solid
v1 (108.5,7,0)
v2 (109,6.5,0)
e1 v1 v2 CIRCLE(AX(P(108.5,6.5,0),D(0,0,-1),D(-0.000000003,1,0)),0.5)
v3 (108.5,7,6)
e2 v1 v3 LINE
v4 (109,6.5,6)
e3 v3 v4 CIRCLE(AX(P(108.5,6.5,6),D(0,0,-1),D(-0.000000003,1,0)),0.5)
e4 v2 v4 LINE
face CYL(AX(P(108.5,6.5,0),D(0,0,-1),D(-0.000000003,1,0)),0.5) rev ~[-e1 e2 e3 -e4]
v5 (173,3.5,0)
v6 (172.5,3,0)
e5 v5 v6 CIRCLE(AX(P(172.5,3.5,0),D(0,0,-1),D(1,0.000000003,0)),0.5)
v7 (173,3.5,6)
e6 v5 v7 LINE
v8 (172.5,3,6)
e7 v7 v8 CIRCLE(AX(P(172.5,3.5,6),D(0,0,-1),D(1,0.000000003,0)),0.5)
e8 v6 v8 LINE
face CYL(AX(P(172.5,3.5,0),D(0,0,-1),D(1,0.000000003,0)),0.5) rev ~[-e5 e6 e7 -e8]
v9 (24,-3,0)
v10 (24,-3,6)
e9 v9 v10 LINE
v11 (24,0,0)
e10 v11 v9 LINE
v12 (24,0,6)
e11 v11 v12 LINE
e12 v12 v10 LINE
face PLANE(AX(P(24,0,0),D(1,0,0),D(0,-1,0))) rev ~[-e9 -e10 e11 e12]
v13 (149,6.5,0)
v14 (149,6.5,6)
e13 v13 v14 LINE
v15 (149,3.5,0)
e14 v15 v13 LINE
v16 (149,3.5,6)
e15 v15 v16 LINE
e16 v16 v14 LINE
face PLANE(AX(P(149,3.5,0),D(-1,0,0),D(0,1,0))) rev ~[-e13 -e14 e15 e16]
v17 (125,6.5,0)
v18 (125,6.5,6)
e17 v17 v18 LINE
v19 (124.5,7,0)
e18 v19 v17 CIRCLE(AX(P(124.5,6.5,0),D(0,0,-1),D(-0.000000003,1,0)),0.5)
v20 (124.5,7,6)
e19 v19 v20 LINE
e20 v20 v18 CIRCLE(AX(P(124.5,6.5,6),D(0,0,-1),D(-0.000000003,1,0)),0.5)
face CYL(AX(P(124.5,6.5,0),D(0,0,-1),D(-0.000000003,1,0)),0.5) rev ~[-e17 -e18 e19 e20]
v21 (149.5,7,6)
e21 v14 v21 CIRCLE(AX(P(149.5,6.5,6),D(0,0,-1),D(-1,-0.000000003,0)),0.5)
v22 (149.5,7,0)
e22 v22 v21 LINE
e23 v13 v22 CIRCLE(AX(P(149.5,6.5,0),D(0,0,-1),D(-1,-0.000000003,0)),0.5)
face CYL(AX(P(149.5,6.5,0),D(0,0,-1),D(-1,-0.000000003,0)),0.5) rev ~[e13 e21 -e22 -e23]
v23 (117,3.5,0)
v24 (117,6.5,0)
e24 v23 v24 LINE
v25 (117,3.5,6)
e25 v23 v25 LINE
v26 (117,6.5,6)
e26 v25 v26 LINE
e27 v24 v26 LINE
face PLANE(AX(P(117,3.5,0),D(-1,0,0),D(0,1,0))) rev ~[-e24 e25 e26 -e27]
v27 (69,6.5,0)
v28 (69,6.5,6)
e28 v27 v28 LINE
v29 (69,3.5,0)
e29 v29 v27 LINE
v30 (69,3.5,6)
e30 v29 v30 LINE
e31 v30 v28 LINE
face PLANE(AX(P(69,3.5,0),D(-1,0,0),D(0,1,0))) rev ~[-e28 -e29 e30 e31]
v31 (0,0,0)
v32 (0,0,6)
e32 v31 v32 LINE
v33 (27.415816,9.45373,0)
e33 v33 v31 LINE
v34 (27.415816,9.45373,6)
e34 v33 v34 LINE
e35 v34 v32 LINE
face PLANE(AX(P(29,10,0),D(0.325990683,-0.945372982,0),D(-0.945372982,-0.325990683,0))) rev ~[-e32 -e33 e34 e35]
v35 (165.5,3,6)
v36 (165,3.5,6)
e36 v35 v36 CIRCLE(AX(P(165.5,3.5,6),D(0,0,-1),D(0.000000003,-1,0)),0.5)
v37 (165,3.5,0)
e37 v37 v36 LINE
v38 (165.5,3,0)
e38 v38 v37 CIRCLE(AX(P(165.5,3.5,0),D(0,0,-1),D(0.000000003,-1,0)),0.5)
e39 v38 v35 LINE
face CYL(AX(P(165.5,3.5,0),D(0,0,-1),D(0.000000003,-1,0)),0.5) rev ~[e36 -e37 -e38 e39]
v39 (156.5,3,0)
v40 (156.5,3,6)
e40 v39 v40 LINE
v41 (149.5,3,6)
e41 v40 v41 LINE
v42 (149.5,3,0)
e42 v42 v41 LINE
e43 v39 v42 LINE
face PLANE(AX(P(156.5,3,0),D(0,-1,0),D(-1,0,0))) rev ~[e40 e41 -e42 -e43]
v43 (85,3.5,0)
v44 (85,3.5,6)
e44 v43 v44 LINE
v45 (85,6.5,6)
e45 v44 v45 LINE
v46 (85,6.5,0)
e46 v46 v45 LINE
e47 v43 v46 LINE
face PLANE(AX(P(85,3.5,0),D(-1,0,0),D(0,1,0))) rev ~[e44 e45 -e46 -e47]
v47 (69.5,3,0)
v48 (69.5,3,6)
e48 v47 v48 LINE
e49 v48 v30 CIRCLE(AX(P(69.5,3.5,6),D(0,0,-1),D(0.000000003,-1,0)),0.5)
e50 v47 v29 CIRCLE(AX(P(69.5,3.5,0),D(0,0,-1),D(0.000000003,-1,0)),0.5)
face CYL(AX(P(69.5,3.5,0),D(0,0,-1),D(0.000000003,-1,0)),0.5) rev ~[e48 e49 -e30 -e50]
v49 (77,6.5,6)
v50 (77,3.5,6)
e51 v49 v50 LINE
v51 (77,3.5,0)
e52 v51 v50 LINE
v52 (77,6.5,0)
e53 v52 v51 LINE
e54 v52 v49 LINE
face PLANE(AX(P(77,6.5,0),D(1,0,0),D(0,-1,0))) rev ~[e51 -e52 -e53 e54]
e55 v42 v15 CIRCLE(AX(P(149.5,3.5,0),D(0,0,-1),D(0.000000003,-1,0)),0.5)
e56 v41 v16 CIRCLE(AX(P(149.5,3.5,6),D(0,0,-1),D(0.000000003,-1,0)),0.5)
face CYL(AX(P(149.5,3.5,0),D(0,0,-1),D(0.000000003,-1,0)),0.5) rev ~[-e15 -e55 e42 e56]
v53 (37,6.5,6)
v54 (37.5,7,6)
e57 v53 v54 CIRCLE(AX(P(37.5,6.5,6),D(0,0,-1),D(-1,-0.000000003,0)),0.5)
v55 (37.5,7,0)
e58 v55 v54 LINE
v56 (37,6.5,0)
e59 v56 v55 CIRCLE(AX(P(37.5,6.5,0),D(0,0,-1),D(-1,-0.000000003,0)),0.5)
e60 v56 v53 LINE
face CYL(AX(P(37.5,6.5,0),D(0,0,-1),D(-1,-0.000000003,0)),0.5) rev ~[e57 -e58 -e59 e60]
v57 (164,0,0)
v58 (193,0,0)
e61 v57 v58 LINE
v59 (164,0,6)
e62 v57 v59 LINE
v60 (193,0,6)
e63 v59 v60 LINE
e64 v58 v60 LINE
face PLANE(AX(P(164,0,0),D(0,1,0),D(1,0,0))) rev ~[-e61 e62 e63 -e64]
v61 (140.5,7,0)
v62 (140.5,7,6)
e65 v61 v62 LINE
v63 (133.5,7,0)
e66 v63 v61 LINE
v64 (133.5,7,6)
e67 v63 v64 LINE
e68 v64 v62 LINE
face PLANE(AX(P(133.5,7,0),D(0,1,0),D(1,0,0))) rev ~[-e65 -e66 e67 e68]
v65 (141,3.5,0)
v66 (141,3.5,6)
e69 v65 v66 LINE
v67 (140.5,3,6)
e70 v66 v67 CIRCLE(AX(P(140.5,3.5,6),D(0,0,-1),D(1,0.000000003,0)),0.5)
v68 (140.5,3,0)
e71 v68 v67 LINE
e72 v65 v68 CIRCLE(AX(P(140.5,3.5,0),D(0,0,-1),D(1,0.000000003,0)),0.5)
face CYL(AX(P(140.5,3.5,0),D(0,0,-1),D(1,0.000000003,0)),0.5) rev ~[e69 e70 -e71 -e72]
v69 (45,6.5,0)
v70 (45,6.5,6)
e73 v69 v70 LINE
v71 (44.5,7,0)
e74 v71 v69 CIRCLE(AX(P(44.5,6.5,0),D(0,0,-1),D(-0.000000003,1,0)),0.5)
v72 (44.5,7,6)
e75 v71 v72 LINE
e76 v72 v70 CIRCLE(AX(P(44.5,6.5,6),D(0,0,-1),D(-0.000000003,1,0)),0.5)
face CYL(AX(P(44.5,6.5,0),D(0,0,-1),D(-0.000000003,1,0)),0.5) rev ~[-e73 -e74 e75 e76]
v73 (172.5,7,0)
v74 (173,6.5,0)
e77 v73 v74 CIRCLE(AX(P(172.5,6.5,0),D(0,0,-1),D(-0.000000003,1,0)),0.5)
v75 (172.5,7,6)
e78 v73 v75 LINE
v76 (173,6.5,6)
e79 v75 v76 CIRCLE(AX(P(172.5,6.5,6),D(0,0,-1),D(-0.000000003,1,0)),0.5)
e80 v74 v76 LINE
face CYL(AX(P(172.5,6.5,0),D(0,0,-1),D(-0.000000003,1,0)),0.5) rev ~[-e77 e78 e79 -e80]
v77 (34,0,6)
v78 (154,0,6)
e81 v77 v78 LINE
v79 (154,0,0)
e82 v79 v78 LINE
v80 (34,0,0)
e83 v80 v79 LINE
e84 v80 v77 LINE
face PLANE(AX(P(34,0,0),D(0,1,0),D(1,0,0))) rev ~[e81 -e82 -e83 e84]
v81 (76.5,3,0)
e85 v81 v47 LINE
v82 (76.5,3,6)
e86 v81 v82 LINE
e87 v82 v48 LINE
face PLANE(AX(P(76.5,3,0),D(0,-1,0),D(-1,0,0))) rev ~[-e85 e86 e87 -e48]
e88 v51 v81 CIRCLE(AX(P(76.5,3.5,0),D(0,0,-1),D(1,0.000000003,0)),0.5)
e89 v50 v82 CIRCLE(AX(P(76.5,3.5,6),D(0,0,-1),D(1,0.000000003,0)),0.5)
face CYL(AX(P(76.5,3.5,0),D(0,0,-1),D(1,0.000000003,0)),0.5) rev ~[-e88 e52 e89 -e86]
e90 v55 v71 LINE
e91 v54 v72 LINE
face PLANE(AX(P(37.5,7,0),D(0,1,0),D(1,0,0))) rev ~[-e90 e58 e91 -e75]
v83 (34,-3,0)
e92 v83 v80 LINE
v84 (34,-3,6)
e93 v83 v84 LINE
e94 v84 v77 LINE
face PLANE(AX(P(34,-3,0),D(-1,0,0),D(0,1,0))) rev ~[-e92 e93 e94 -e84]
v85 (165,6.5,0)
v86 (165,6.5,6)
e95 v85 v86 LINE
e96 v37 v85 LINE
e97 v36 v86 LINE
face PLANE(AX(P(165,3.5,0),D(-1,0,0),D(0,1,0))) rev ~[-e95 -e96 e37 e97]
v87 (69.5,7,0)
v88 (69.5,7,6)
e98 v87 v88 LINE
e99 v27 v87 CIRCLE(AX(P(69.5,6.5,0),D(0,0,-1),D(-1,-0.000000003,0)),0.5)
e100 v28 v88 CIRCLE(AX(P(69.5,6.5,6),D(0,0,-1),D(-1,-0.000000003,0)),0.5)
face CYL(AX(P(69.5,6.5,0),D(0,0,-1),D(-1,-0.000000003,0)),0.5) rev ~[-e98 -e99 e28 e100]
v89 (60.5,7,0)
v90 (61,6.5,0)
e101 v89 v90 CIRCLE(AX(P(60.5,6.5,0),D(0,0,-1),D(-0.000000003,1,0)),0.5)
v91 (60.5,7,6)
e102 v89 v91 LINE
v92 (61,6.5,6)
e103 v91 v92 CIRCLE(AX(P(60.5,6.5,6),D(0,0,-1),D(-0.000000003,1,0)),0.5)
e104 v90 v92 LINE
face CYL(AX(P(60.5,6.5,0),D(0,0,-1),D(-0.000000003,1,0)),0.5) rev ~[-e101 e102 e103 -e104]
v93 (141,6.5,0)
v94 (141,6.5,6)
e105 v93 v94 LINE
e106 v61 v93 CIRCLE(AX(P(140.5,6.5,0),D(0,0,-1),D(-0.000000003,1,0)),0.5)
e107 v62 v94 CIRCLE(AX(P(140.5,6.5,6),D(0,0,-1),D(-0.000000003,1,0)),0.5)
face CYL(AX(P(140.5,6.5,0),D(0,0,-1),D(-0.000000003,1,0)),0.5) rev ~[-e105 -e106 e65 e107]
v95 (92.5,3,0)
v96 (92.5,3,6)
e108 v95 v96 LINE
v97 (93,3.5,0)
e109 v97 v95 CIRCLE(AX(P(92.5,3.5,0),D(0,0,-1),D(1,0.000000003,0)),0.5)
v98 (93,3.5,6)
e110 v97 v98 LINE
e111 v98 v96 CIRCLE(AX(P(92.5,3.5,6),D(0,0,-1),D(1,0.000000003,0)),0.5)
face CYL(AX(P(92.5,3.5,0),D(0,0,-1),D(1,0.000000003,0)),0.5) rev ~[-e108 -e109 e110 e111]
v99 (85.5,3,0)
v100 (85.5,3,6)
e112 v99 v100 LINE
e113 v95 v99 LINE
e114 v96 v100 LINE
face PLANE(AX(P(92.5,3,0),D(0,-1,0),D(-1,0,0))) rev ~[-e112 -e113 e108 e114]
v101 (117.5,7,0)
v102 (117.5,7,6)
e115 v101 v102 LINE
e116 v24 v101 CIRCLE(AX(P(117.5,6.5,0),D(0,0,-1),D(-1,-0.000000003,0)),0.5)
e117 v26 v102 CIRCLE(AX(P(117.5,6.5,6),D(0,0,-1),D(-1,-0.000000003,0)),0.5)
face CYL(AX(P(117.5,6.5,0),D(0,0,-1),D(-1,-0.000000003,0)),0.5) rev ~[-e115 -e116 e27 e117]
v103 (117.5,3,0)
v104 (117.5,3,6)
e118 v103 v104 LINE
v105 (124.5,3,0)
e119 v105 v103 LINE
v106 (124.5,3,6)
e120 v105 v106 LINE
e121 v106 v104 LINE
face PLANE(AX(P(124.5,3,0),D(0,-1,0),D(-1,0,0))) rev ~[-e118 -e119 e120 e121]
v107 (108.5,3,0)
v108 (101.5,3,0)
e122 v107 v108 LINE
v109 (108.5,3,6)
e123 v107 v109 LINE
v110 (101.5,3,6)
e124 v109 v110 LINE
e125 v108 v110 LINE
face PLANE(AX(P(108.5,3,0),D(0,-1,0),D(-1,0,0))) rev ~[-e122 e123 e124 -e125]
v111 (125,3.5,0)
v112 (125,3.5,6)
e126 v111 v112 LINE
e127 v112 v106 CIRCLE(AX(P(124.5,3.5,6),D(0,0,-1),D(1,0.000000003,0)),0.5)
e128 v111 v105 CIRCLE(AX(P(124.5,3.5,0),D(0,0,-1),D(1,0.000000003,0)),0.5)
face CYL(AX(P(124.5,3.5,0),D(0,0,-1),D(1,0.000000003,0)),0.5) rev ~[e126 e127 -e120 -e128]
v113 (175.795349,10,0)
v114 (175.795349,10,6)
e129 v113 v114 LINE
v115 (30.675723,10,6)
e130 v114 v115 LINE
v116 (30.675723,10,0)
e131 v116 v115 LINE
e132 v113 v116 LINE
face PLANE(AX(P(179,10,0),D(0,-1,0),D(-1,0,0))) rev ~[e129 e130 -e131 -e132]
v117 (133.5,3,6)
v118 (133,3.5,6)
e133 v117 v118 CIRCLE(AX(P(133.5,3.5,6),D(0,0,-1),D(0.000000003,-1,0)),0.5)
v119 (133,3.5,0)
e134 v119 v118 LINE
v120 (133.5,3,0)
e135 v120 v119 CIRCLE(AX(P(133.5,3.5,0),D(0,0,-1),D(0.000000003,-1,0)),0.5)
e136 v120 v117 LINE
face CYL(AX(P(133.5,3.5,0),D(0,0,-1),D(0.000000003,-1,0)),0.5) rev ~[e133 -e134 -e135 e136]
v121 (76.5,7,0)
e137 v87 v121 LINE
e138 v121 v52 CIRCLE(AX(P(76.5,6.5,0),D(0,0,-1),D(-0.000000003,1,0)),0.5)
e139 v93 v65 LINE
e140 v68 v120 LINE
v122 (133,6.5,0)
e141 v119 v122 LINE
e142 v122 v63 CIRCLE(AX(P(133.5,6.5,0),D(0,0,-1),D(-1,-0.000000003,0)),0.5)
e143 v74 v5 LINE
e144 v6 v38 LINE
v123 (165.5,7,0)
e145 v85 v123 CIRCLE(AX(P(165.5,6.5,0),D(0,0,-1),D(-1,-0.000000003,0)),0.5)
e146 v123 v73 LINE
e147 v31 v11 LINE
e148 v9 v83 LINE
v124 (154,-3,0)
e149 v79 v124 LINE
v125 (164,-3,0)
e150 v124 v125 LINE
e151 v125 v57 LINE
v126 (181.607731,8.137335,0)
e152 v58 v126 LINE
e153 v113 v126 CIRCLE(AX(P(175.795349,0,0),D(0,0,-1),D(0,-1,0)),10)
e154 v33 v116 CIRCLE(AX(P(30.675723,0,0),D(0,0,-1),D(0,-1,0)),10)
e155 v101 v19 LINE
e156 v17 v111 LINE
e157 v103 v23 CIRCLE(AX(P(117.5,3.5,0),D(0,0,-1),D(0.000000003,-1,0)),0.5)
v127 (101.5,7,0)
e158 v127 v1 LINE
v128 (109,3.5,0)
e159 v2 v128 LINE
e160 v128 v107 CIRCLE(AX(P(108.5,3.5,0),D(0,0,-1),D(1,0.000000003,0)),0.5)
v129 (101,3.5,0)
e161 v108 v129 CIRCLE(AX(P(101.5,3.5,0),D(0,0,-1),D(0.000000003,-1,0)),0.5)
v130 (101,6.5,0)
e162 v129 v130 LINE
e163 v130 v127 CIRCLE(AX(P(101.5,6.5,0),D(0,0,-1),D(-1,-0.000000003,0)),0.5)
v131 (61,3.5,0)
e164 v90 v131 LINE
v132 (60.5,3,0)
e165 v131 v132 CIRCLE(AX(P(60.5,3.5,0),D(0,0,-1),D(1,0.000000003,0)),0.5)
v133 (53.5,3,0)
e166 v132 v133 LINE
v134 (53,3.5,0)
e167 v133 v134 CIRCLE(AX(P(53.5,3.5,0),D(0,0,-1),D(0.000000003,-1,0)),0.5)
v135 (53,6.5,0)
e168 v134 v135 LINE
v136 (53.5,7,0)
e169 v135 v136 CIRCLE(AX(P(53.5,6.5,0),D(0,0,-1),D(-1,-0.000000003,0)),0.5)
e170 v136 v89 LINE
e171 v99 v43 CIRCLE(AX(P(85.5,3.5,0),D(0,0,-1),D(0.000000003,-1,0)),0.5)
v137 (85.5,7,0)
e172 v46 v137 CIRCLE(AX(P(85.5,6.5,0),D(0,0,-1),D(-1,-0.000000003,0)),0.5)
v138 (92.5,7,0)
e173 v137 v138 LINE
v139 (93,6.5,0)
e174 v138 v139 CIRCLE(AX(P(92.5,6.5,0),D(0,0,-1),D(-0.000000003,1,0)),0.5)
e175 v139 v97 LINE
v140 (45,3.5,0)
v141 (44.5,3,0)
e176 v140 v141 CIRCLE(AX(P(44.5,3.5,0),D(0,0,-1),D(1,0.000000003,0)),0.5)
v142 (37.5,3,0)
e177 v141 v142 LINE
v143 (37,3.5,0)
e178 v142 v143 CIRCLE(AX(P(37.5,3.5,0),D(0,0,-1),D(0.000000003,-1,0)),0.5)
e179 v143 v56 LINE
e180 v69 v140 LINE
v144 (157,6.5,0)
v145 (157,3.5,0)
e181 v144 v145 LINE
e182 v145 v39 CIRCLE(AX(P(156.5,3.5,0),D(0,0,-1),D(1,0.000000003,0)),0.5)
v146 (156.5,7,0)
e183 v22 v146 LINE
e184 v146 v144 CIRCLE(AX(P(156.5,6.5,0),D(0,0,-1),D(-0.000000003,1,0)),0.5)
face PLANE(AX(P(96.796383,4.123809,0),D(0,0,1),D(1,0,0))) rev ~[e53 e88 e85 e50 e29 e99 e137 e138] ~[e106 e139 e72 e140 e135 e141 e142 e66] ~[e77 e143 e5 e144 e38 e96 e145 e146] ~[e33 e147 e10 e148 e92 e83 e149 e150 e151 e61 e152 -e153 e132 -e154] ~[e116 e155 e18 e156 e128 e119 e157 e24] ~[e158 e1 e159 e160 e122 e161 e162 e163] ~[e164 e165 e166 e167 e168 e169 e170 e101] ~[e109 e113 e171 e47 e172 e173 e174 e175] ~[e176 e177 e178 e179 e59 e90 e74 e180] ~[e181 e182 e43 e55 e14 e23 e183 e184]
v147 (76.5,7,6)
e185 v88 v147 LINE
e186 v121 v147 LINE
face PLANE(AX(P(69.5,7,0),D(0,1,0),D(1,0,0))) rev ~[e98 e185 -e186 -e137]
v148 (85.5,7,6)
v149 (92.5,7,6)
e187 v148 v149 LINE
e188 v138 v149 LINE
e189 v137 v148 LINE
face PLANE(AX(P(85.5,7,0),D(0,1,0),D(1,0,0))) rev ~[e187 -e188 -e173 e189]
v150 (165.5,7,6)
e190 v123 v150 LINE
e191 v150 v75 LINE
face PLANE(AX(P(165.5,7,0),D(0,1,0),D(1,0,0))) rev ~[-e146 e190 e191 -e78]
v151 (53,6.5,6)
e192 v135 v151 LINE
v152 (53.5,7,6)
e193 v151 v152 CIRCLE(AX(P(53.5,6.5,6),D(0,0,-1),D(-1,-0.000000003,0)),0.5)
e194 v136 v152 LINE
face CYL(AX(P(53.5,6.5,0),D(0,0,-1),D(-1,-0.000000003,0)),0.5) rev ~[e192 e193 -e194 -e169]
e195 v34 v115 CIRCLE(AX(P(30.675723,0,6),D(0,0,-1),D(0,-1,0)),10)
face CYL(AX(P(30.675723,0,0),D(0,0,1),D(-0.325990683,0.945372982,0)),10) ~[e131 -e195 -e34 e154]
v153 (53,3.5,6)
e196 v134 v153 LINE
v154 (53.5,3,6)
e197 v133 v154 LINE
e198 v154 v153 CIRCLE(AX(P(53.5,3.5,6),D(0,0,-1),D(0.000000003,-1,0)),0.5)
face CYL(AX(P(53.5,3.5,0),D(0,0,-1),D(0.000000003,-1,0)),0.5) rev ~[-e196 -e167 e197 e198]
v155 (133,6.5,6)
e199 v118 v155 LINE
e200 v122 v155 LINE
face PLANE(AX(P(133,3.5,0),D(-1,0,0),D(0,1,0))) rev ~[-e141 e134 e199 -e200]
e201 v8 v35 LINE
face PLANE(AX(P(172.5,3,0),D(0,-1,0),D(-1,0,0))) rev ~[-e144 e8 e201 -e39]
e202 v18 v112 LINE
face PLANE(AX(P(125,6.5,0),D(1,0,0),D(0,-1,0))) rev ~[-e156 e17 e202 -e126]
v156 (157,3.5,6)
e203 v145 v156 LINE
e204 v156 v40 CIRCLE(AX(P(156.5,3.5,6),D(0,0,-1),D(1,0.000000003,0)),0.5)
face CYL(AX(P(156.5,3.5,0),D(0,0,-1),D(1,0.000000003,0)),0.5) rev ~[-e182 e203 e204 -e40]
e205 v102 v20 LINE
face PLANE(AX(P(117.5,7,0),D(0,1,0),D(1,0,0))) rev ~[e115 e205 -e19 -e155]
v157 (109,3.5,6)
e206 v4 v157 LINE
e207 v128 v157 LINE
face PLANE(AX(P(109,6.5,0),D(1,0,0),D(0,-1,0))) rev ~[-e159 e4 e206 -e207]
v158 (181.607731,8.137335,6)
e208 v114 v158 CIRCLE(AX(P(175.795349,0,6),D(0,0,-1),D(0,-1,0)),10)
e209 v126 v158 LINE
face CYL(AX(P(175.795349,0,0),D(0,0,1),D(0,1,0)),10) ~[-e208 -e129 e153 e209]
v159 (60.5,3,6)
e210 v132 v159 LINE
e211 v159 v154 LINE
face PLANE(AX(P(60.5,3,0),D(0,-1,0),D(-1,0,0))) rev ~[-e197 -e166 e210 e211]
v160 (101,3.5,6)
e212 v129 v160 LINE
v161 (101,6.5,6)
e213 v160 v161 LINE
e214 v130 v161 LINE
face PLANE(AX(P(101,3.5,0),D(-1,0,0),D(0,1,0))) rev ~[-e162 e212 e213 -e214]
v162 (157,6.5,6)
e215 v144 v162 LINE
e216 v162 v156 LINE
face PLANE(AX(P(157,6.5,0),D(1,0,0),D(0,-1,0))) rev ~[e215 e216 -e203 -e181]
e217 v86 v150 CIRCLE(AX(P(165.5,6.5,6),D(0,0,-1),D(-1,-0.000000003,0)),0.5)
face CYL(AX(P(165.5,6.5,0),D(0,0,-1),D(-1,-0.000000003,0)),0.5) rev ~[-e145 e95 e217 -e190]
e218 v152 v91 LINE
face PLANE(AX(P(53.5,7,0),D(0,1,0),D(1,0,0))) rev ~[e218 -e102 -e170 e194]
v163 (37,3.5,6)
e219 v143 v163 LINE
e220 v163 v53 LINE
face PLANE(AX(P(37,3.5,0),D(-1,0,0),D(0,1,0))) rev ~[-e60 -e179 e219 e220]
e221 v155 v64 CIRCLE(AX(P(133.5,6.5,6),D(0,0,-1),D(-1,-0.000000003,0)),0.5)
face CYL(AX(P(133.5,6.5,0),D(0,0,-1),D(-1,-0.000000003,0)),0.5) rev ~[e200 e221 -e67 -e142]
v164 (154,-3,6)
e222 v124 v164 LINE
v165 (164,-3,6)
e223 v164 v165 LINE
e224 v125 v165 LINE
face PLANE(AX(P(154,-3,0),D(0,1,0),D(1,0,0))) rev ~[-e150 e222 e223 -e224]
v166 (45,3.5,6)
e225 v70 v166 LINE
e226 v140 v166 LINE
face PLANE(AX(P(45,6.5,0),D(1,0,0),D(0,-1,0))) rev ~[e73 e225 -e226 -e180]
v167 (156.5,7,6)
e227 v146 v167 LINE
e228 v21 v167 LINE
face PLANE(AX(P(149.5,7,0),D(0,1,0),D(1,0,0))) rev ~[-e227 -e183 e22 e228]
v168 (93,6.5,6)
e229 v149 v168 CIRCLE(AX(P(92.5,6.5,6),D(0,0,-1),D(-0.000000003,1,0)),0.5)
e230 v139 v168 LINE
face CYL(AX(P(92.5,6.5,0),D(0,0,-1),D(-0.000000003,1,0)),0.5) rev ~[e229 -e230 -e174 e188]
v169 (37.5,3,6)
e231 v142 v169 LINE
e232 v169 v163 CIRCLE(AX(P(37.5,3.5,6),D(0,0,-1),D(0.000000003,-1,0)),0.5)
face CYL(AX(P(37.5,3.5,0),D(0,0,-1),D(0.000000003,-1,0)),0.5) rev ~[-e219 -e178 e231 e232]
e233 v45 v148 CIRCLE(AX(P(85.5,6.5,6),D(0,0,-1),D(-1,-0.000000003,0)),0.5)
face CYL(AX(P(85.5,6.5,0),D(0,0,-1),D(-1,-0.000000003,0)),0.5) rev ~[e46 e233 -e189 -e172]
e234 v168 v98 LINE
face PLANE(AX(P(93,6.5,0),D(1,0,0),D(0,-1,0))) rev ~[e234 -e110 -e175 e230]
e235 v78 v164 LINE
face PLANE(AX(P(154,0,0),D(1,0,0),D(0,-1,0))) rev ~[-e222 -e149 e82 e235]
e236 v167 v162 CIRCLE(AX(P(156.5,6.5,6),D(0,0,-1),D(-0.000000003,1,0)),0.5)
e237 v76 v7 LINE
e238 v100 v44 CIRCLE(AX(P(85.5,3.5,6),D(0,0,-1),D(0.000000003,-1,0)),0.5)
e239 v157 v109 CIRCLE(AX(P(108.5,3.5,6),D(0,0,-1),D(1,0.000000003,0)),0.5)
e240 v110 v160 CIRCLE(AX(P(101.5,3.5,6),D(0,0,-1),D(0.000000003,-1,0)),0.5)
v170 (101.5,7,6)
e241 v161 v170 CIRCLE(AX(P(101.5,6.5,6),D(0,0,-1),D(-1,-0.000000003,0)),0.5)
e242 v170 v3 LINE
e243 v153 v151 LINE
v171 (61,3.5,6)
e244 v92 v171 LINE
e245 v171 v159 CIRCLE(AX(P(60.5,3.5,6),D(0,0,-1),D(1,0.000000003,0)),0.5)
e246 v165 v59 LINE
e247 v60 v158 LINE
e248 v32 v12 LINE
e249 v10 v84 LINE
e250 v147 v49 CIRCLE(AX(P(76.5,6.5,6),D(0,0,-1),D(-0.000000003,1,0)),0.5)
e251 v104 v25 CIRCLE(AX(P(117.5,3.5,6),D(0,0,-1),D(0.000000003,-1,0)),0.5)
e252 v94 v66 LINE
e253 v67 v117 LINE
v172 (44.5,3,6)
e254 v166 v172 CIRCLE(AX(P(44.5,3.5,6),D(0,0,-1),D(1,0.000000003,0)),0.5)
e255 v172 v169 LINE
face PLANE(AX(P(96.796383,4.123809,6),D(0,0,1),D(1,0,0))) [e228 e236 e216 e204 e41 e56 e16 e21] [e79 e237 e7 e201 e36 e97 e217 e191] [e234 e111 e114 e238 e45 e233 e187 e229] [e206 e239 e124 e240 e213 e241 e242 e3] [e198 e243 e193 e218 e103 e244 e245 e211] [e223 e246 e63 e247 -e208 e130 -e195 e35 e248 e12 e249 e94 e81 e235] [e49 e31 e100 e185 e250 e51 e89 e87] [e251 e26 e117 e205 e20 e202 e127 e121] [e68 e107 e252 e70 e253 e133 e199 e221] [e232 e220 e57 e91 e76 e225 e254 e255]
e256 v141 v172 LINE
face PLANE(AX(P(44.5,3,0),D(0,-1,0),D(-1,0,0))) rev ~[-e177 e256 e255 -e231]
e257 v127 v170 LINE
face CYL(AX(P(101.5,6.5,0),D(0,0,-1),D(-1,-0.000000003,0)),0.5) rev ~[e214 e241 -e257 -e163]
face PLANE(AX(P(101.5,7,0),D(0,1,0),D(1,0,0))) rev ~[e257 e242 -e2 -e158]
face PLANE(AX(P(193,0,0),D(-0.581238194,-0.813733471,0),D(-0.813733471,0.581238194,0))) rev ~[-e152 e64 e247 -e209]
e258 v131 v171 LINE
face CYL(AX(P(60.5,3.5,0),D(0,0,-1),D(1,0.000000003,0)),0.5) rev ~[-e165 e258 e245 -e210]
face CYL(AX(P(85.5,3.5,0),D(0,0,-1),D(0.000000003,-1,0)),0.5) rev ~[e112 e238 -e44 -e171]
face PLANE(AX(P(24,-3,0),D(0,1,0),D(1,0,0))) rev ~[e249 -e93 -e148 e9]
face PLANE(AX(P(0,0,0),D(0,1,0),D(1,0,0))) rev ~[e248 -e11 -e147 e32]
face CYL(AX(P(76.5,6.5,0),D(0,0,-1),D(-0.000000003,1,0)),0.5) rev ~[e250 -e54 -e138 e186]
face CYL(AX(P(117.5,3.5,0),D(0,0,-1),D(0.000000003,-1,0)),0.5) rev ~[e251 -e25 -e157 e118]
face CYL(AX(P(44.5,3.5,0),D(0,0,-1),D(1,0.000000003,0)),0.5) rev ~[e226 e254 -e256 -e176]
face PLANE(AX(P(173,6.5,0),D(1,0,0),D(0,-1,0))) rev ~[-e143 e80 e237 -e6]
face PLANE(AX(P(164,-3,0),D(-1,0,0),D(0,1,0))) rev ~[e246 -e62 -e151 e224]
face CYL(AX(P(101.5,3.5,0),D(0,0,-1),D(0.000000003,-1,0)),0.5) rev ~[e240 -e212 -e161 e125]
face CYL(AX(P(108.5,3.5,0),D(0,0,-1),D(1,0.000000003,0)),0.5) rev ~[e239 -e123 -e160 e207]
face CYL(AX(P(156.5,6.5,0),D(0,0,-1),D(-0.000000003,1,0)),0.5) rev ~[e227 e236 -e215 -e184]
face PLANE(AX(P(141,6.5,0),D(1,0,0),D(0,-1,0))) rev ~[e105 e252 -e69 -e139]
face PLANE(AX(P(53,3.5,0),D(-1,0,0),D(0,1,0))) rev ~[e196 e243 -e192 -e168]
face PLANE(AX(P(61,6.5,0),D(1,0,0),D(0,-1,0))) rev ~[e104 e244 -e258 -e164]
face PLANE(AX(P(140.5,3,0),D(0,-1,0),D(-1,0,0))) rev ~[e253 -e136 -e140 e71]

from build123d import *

# Parameters (mm, degrees)
BOSS_EXTRUDE1_DEPTH = 6
FILLET1_R           = 10


with BuildPart() as part:
    # Sketch1 → Boss-Extrude1 (new body)
    with BuildSketch(Plane.XY):
        Polygon((0, 0), (24, 0), (24, -3), (34, -3), (34, 0), (154, 0), (154, -3), (164, -3), (164, 0), (193, 0), (179, 10), (29, 10), align=None)
        with BuildLine():
            Line((53.5, 7), (60.5, 7))
            ThreePointArc((60.5, 7), (60.853553391, 6.853553391), (61, 6.5))
            Line((61, 6.5), (61, 3.5))
            ThreePointArc((61, 3.5), (60.853553391, 3.146446609), (60.5, 3))
            Line((60.5, 3), (53.5, 3))
            ThreePointArc((53.5, 3), (53.146446609, 3.146446609), (53, 3.5))
            Line((53, 3.5), (53, 6.5))
            ThreePointArc((53, 6.5), (53.146446609, 6.853553391), (53.5, 7))
        make_face(mode=Mode.SUBTRACT)
        with BuildLine():
            Line((37.5, 7), (44.5, 7))
            ThreePointArc((44.5, 7), (44.853553391, 6.853553391), (45, 6.5))
            Line((45, 6.5), (45, 3.5))
            ThreePointArc((45, 3.5), (44.853553391, 3.146446609), (44.5, 3))
            Line((44.5, 3), (37.5, 3))
            ThreePointArc((37.5, 3), (37.146446609, 3.146446609), (37, 3.5))
            Line((37, 3.5), (37, 6.5))
            ThreePointArc((37, 6.5), (37.146446609, 6.853553391), (37.5, 7))
        make_face(mode=Mode.SUBTRACT)
        with BuildLine():
            Line((69.5, 7), (76.5, 7))
            ThreePointArc((76.5, 7), (76.853553391, 6.853553391), (77, 6.5))
            Line((77, 6.5), (77, 3.5))
            ThreePointArc((77, 3.5), (76.853553391, 3.146446609), (76.5, 3))
            Line((76.5, 3), (69.5, 3))
            ThreePointArc((69.5, 3), (69.146446609, 3.146446609), (69, 3.5))
            Line((69, 3.5), (69, 6.5))
            ThreePointArc((69, 6.5), (69.146446609, 6.853553391), (69.5, 7))
        make_face(mode=Mode.SUBTRACT)
        with BuildLine():
            Line((85.5, 7), (92.5, 7))
            ThreePointArc((92.5, 7), (92.853553391, 6.853553391), (93, 6.5))
            Line((93, 6.5), (93, 3.5))
            ThreePointArc((93, 3.5), (92.853553391, 3.146446609), (92.5, 3))
            Line((92.5, 3), (85.5, 3))
            ThreePointArc((85.5, 3), (85.146446609, 3.146446609), (85, 3.5))
            Line((85, 3.5), (85, 6.5))
            ThreePointArc((85, 6.5), (85.146446609, 6.853553391), (85.5, 7))
        make_face(mode=Mode.SUBTRACT)
        with BuildLine():
            Line((101.5, 7), (108.5, 7))
            ThreePointArc((108.5, 7), (108.853553391, 6.853553391), (109, 6.5))
            Line((109, 6.5), (109, 3.5))
            ThreePointArc((109, 3.5), (108.853553391, 3.146446609), (108.5, 3))
            Line((108.5, 3), (101.5, 3))
            ThreePointArc((101.5, 3), (101.146446609, 3.146446609), (101, 3.5))
            Line((101, 3.5), (101, 6.5))
            ThreePointArc((101, 6.5), (101.146446609, 6.853553391), (101.5, 7))
        make_face(mode=Mode.SUBTRACT)
        with BuildLine():
            Line((117.5, 7), (124.5, 7))
            ThreePointArc((124.5, 7), (124.853553391, 6.853553391), (125, 6.5))
            Line((125, 6.5), (125, 3.5))
            ThreePointArc((125, 3.5), (124.853553391, 3.146446609), (124.5, 3))
            Line((124.5, 3), (117.5, 3))
            ThreePointArc((117.5, 3), (117.146446609, 3.146446609), (117, 3.5))
            Line((117, 3.5), (117, 6.5))
            ThreePointArc((117, 6.5), (117.146446609, 6.853553391), (117.5, 7))
        make_face(mode=Mode.SUBTRACT)
        with BuildLine():
            Line((133.5, 7), (140.5, 7))
            ThreePointArc((140.5, 7), (140.853553391, 6.853553391), (141, 6.5))
            Line((141, 6.5), (141, 3.5))
            ThreePointArc((141, 3.5), (140.853553391, 3.146446609), (140.5, 3))
            Line((140.5, 3), (133.5, 3))
            ThreePointArc((133.5, 3), (133.146446609, 3.146446609), (133, 3.5))
            Line((133, 3.5), (133, 6.5))
            ThreePointArc((133, 6.5), (133.146446609, 6.853553391), (133.5, 7))
        make_face(mode=Mode.SUBTRACT)
        with BuildLine():
            Line((149.5, 7), (156.5, 7))
            ThreePointArc((156.5, 7), (156.853553391, 6.853553391), (157, 6.5))
            Line((157, 6.5), (157, 3.5))
            ThreePointArc((157, 3.5), (156.853553391, 3.146446609), (156.5, 3))
            Line((156.5, 3), (149.5, 3))
            ThreePointArc((149.5, 3), (149.146446609, 3.146446609), (149, 3.5))
            Line((149, 3.5), (149, 6.5))
            ThreePointArc((149, 6.5), (149.146446609, 6.853553391), (149.5, 7))
        make_face(mode=Mode.SUBTRACT)
        with BuildLine():
            Line((165.5, 7), (172.5, 7))
            ThreePointArc((172.5, 7), (172.853553391, 6.853553391), (173, 6.5))
            Line((173, 6.5), (173, 3.5))
            ThreePointArc((173, 3.5), (172.853553391, 3.146446609), (172.5, 3))
            Line((172.5, 3), (165.5, 3))
            ThreePointArc((165.5, 3), (165.146446609, 3.146446609), (165, 3.5))
            Line((165, 3.5), (165, 6.5))
            ThreePointArc((165, 6.5), (165.146446609, 6.853553391), (165.5, 7))
        make_face(mode=Mode.SUBTRACT)
    extrude(amount=BOSS_EXTRUDE1_DEPTH)

    # Fillet1
    fillet1_edges = [part.edges().sort_by_distance(p)[0] for p in [
        (29, 10, 3),
        (179, 10, 3),
    ]]
    fillet(fillet1_edges, radius=FILLET1_R)


solid = part.part
